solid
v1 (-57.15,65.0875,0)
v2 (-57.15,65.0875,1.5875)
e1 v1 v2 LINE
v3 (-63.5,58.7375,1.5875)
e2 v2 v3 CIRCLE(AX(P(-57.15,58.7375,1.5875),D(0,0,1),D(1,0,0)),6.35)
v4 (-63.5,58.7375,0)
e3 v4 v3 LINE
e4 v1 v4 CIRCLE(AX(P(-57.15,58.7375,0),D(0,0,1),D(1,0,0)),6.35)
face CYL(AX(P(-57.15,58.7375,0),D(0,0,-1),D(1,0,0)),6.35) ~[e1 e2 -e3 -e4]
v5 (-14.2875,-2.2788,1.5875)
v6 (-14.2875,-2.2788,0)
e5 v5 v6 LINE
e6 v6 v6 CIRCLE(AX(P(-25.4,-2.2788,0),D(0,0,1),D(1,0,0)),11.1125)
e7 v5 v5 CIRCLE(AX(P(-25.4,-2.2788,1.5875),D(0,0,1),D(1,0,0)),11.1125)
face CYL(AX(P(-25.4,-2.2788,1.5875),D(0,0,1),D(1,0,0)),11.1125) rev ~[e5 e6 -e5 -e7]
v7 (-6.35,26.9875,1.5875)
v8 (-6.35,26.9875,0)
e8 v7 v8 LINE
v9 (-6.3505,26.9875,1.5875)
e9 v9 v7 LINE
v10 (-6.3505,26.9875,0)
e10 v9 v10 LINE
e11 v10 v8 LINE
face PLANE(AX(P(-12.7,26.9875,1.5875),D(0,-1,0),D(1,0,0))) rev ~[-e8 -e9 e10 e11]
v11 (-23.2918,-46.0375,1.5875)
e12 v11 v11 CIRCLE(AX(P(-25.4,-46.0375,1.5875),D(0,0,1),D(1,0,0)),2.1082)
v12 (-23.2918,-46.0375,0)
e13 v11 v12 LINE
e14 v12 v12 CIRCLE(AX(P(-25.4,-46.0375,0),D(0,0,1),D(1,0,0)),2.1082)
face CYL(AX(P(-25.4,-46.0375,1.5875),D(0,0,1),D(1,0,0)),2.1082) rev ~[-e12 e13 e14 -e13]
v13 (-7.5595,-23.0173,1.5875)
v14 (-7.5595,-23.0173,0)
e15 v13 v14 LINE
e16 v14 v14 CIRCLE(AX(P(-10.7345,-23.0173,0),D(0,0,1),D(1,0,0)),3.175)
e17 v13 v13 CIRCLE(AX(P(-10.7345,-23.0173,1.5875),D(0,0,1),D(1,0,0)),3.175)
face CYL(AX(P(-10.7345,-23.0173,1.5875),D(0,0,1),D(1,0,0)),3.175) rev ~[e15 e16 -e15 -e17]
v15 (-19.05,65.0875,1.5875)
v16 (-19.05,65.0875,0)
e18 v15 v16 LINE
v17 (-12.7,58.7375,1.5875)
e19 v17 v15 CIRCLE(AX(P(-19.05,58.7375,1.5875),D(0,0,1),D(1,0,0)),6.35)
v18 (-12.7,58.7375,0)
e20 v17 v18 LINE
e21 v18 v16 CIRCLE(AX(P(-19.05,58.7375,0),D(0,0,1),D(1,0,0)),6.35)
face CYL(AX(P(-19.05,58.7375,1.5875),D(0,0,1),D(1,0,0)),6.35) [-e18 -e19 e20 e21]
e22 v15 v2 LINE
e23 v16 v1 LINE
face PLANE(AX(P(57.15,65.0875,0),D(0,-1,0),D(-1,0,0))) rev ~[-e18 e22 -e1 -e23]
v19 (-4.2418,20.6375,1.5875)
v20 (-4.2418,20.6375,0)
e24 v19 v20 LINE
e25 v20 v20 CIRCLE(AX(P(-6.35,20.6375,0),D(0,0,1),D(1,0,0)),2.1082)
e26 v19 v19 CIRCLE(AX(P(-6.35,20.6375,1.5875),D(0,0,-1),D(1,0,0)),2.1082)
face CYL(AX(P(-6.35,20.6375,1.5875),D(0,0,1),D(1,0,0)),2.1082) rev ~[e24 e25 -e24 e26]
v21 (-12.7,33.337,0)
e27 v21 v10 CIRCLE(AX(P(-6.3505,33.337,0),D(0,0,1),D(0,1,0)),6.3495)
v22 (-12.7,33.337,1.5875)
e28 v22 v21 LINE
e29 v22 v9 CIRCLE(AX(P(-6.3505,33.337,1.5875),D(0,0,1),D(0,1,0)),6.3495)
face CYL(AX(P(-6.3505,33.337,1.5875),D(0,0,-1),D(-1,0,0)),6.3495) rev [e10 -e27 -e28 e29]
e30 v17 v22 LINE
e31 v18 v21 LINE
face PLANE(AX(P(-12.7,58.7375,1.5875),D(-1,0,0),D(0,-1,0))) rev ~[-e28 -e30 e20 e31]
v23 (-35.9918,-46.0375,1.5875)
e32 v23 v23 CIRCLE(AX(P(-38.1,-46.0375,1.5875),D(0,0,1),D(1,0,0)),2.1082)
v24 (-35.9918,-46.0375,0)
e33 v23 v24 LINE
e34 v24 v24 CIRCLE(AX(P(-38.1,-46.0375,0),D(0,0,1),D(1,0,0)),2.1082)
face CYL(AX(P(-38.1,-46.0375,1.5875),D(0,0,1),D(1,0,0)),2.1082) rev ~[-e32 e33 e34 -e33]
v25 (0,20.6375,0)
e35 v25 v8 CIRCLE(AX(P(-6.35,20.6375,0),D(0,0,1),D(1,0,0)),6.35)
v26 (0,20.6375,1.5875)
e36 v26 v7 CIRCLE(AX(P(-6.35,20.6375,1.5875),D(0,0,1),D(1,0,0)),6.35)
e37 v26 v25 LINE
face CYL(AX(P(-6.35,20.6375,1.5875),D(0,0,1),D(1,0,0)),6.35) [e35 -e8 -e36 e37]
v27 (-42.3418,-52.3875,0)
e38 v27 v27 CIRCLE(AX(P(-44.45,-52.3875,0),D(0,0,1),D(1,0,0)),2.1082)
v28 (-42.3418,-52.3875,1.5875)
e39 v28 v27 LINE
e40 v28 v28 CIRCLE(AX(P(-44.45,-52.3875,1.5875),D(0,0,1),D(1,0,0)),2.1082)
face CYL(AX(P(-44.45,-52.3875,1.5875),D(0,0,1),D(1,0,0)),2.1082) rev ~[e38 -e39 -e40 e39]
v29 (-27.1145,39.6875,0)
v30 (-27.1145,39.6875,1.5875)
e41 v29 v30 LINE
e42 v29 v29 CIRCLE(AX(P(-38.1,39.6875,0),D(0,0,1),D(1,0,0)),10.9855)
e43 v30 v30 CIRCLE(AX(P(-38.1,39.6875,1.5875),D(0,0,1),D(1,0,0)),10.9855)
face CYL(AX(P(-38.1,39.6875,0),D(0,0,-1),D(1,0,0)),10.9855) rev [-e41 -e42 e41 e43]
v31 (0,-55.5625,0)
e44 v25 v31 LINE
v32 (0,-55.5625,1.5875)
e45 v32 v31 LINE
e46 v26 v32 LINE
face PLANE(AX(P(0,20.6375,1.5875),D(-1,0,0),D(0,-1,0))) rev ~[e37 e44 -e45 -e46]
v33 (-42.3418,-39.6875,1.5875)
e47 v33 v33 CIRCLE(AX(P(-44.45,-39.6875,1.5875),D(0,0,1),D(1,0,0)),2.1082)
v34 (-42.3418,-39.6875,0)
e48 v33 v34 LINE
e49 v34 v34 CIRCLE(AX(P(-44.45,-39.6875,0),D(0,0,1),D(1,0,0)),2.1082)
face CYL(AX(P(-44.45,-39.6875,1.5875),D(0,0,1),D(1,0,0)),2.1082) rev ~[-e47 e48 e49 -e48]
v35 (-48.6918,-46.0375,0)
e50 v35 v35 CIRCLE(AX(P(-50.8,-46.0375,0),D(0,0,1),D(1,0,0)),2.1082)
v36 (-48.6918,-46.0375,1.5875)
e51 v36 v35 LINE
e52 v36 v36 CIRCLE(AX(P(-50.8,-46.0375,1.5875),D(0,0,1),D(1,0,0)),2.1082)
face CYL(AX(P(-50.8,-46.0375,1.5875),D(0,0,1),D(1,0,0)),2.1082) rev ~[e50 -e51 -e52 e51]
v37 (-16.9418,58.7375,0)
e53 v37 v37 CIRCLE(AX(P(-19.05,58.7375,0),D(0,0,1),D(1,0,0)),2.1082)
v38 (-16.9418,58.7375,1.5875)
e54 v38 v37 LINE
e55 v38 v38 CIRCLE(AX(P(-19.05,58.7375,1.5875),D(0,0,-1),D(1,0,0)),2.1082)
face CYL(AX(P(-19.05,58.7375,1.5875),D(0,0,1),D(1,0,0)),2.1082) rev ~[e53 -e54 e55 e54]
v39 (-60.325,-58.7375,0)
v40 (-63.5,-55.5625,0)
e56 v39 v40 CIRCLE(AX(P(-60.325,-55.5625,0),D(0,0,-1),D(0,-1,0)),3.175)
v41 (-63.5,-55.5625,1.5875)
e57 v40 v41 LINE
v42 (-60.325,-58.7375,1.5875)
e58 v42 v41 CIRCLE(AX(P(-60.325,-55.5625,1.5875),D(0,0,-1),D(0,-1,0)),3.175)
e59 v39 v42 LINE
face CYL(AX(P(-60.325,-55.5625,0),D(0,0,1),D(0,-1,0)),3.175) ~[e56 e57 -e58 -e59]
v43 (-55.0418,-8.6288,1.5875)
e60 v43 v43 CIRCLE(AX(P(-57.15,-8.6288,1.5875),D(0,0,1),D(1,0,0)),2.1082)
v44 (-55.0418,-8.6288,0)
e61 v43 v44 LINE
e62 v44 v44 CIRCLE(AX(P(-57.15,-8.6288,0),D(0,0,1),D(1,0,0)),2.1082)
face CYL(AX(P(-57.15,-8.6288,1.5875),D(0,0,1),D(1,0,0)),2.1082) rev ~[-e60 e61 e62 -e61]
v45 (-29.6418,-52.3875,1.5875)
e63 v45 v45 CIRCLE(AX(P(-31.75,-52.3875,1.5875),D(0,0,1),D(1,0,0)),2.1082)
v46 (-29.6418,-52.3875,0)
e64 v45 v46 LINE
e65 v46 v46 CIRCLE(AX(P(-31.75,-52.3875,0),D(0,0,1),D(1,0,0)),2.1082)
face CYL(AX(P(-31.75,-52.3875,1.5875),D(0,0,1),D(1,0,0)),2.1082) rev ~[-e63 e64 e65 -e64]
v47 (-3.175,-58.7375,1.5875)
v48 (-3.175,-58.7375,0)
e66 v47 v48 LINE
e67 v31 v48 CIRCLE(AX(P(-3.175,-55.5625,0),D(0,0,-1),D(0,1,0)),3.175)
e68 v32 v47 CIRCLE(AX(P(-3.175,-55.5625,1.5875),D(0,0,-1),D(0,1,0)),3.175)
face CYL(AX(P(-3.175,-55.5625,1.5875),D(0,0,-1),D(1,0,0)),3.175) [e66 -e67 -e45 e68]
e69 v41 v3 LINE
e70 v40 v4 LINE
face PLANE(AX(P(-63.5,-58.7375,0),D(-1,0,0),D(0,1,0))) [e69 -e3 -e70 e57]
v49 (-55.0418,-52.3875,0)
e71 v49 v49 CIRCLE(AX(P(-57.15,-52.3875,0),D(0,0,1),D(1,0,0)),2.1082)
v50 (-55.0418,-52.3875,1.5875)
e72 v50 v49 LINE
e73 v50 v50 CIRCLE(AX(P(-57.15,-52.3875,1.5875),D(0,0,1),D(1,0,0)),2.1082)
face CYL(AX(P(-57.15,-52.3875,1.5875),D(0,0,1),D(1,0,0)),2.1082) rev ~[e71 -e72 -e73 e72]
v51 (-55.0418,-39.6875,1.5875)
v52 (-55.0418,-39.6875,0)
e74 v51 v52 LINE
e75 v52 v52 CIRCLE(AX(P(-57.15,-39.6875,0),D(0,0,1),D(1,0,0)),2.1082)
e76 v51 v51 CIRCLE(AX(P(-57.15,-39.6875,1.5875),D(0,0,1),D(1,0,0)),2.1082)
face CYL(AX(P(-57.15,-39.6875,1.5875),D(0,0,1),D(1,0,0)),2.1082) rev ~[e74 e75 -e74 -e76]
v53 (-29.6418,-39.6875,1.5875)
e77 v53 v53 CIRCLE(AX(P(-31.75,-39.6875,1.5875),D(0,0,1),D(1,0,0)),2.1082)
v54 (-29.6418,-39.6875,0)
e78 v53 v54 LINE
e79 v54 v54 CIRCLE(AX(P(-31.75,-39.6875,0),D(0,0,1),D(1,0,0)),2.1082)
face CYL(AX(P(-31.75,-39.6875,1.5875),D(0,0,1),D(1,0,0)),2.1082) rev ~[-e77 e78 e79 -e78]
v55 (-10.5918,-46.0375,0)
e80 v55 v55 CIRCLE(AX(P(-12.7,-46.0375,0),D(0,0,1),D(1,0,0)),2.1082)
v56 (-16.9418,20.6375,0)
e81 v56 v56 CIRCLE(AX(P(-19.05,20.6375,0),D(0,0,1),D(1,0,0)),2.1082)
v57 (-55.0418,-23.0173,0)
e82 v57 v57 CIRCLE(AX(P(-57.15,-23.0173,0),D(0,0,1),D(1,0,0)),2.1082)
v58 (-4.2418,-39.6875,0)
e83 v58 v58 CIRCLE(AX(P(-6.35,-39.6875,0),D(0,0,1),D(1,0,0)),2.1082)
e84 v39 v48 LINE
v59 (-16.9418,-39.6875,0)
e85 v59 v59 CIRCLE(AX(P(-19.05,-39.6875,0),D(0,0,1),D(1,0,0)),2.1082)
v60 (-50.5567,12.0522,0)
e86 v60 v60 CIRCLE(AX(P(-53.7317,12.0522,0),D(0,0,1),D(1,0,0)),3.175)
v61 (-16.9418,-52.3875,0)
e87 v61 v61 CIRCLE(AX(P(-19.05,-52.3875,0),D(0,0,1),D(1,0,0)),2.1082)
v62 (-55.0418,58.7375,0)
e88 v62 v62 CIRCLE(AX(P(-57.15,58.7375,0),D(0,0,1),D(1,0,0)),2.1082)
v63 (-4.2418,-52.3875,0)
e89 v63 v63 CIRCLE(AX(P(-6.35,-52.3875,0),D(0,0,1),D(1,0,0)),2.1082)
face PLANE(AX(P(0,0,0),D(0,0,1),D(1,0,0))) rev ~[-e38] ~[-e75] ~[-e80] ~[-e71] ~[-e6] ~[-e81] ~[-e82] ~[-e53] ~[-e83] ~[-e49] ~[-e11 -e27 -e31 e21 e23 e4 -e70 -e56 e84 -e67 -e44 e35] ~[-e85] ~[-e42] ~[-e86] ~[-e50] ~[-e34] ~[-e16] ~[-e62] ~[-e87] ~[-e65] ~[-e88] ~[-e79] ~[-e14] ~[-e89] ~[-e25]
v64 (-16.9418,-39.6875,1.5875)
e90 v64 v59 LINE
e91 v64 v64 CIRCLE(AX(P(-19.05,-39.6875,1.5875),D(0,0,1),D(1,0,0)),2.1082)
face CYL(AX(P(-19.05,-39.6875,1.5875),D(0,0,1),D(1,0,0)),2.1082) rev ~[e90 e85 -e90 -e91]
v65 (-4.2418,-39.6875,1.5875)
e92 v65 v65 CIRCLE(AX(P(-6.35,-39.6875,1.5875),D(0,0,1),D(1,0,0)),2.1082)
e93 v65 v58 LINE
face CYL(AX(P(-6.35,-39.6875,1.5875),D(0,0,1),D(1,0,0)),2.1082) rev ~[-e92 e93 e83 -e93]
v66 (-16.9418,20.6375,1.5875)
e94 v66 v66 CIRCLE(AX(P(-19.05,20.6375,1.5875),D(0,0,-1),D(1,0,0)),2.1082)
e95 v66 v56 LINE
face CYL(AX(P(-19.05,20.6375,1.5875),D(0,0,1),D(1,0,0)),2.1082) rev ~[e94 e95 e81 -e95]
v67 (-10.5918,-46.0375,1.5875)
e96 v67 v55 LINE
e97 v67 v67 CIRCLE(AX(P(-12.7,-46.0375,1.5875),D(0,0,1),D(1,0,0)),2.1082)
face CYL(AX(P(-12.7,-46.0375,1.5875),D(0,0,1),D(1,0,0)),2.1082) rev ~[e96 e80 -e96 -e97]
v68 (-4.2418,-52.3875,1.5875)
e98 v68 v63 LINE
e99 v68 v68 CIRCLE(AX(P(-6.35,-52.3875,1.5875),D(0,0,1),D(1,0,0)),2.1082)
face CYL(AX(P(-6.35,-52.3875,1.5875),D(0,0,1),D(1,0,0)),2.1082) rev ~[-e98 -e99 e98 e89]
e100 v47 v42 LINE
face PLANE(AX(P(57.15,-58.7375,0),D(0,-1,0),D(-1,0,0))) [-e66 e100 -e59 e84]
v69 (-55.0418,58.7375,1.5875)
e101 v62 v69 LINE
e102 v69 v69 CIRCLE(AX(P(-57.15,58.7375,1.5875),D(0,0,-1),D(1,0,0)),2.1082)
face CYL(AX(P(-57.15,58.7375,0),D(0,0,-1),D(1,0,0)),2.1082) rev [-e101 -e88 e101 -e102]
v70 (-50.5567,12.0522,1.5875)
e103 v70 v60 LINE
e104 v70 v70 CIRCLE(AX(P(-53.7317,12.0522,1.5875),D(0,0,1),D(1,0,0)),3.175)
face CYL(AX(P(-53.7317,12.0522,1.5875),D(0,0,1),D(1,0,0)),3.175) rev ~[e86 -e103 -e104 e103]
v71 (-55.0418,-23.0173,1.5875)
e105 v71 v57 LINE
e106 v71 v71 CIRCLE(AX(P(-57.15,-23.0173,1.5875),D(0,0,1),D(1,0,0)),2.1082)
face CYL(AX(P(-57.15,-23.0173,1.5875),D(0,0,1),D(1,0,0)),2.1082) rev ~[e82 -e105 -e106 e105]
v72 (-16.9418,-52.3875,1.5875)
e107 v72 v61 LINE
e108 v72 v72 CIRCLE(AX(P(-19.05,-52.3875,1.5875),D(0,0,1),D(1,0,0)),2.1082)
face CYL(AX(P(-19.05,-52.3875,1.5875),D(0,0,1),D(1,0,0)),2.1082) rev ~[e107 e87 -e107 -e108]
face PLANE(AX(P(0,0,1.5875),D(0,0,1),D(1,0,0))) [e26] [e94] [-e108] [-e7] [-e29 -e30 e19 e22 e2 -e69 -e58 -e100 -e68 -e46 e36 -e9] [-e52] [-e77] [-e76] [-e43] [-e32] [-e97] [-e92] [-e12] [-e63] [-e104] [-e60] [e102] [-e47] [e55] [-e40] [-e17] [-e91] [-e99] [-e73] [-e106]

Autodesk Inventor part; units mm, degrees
ref_plane "YZ Plane" through (0, 0, 0) normal (1, 0, 0) x (0, 1, 0)
ref_plane "XZ Plane" through (0, 0, 0) normal (0, 1, 0) x (-1, 0, 0)
ref_plane "XY Plane" through (0, 0, 0) normal (0, 0, 1) x (1, 0, 0)
sketch "Sketch1" plane through (0, 0, 0) normal (0, 0, 1) x (1, 0, 0)
  line L0 (57.15, -58.7375) -> (-57.15, -58.7375)
  line L1 (-57.15, -58.7375) -> (-57.15, 58.7375)
  line L2 (-57.15, 58.7375) -> (57.15, 58.7375)
  line L3 (57.15, 58.7375) -> (57.15, -58.7375)
  line L4 (57.15, -58.7375) -> (-57.15, 58.7375) construction
  line L5 (-57.15, -58.7375) -> (57.15, 58.7375) construction
  line L6 (-57.15, 58.7375) -> (-19.05, 58.7375)
  line L7 (-19.05, 58.7375) -> (-19.05, 20.6375)
  line L8 (-19.05, 20.6375) -> (-57.15, 20.6375)
  line L9 (-57.15, 20.6375) -> (-57.15, 58.7375)
  circle A0 centre (-38.1, 39.6875) radius 19.05
  circle A1 centre (-57.15, 58.7375) radius 6.35
  circle A2 centre (57.15, 58.7375) radius 6.35
  line L10 (-57.15, -58.7375) -> (-63.5, -58.7375)
  line L11 (-63.5, -58.7375) -> (-63.5, 58.7375)
  line L12 (57.15, -58.7375) -> (63.5, -58.7375)
  line L13 (63.5, -58.7375) -> (63.5, 58.7375)
  line L14 (57.15, 65.0875) -> (-57.15, 65.0875)
  circle A3 centre (-38.1, 39.6875) radius 10.9855
  circle A4 centre (-57.15, 58.7375) radius 2.1082
  circle A5 centre (57.15, 58.7375) radius 2.1082
  point P0 (0, 0)
  dimension "d0" = 114.3
  dimension "d1" = 117.475
  dimension "d2" = 38.1
  dimension "d3" = 38.1
  dimension "d4" = 12.7
  dimension "d5" = 12.7
  dimension "d8" = 21.971
  dimension "d9" = 4.2164
  dimension "d10" = 4.2164
extrude "Extrusion1" add sketch "Sketch1" along normal blind 1.5875 contours L0 L1 L8 L7 L2 A2 L3 | L3 A2 L13 L12 | L10 L11 A1 L1 | A2 L2 A5 L3 | L3 A5 L2 A2 | L1 A0 L8 | L2 A1 L14 A2 | L1 A1 L2 A0 | A0 | A0 L7 L8 | A1 L2 A4 L1 | L7 A0 L2 | L1 A4 L2 A1
sketch "Sketch2" plane through (0, 0, 1.5875) normal (0, 0, 1) x (1, 0, 0)
  circle A0 centre (-38.1, 39.6875) radius 10.9855 projected
  line L0 (-38.1, 39.6875) -> (63.5, 39.6875)
  line L1 (63.5, -58.7375) -> (63.5, 58.7375) projected
  circle A1 centre (-38.1, 39.6875) radius 6.35
  circle A2 centre (-12.7, 39.6875) radius 19.05
  circle A3 centre (38.1, 39.6875) radius 31.75
  circle A4 centre (-12.7, 39.6875) radius 10.9855
  circle A5 centre (38.1, 39.6875) radius 10.9855
  line L2 (-63.5, 58.7375) -> (-63.5, -58.7375) projected
  line L3 (-38.1, 39.6875) -> (-12.7, 39.6875)
  line L4 (57.15, 65.0875) -> (-57.15, 65.0875) projected
  line L5 (-63.5, -58.7375) -> (63.5, -58.7375) projected
  line L6 (0, -58.7375) -> (0, 65.0875)
  circle A6 centre (0, -46.0375) radius 19.05
  circle A7 centre (0, -46.0375) radius 2.1082
  point P0 (0, 0)
  dimension "d13" = 12.7
  dimension "d14" = 38.1
  dimension "d15" = 63.5
  dimension "d16" = 21.971
  dimension "d17" = 21.971
  dimension "d21" = 38.1
  dimension "d22" = 12.7
  dimension "d23" = 4.2164
extrude "Extrusion2" cut sketch "Sketch2" against normal blind 1.5875 contours A4 L0 | L0 A4 | A5 L0 | L0 A5 | A7 L6 | L6 A7
sketch "Sketch10" plane through (0, 0, 1.5875) normal (0, 0, 1) x (1, 0, 0)
  circle A0 centre (0, -46.0375) radius 2.1082 projected
  circle A1 centre (0, -46.0375) radius 19.05
  line L0 (0, -46.0375) -> (-10.7345, -23.0173)
  circle A2 centre (-10.7345, -23.0173) radius 6.35
  line L1 (57.15, 65.0875) -> (-57.15, 65.0875) projected
  line L2 (-63.5, -58.7375) -> (63.5, -58.7375) projected
  line L3 (0, -58.7375) -> (0, 65.0875)
  circle A3 centre (-25.4, -2.2788) radius 19.05
  line L4 (-25.4, 65.0875) -> (-25.4, -58.7375)
  circle A4 centre (-38.1, 39.6875) radius 10.9855 projected
  circle A5 centre (-38.1, 39.6875) radius 19.05
  circle A6 centre (-53.7317, 12.0522) radius 12.7
  point P0 (0, 0)
  dimension "d121" = 38.1
  dimension "d122" = 25.4
  dimension "d123" = 25
  dimension "d124" = 38.1
  dimension "d125" = 25.4
  dimension "d126" = 38.1
  dimension "d127" = 25.4
sketch "Sketch11" plane through (0, 0, 1.5875) normal (0, 0, 1) x (1, 0, 0)
  circle A0 centre (-10.7345, -23.0173) radius 6.35 projected
  circle A1 centre (-25.4, -2.2788) radius 19.05 projected
  circle A2 centre (-53.7317, 12.0522) radius 12.7 projected
  circle A3 centre (-53.7317, 12.0522) radius 3.175
  circle A4 centre (-25.4, -2.2788) radius 3.9688
  circle A5 centre (-10.7345, -23.0173) radius 3.175
  point P0 (0, 0)
  dimension "d128" = 6.35
  dimension "d129" = 7.9375
  dimension "d130" = 6.35
extrude "Extrusion9" cut sketch "Sketch11" against normal blind 25.4 contours A3 | A4 | A5
sketch "Sketch12" plane through (0, 0, 1.5875) normal (0, 0, 1) x (1, 0, 0)
  circle A0 centre (57.15, -52.3875) radius 2.1082
  circle A1 centre (0, -46.0375) radius 2.1082 projected
  line L0 (-63.5, -58.7375) -> (63.5, -58.7375) projected
  line L1 (-63.5, -58.7375) -> (63.5, -58.7375) projected
  line L2 (63.5, -58.7375) -> (63.5, 58.7375) projected
  circle A2 centre (44.45, -52.3875) radius 2.1082
  circle A3 centre (31.75, -52.3875) radius 2.1082
  circle A4 centre (19.05, -52.3875) radius 2.1082
  circle A5 centre (6.35, -52.3875) radius 2.1082
  circle A6 centre (-6.35, -52.3875) radius 2.1082
  circle A7 centre (-19.05, -52.3875) radius 2.1082
  circle A8 centre (-31.75, -52.3875) radius 2.1082
  circle A9 centre (-44.45, -52.3875) radius 2.1082
  circle A10 centre (-57.15, -52.3875) radius 2.1082
  circle A11 centre (57.15, -39.6875) radius 2.1082
  circle A12 centre (44.45, -39.6875) radius 2.1082
  circle A13 centre (31.75, -39.6875) radius 2.1082
  circle A14 centre (19.05, -39.6875) radius 2.1082
  circle A15 centre (6.35, -39.6875) radius 2.1082
  circle A16 centre (-6.35, -39.6875) radius 2.1082
  circle A17 centre (-19.05, -39.6875) radius 2.1082
  circle A18 centre (-31.75, -39.6875) radius 2.1082
  circle A19 centre (-44.45, -39.6875) radius 2.1082
  circle A20 centre (-57.15, -39.6875) radius 2.1082
  point P0 (0, 0)
  dimension "d133" = 4.2164
  dimension "d134" = 6.35
  dimension "d135" = 57.15
  dimension "d138" = 12.7
  dimension "d141" = 12.7
extrude "Extrusion10" cut sketch "Sketch12" against normal blind 25.4
sketch "Sketch14" plane through (0, 0, 1.5875) normal (0, 0, 1) x (1, 0, 0)
  circle A0 centre (-25.4, -2.2788) radius 3.9687 projected
  circle A1 centre (-57.15, -8.6288) radius 2.1082
  line L0 (-63.5, 58.7375) -> (-63.5, -58.7375) projected
  line L1 (-63.5, -58.7375) -> (63.5, -58.7375) projected
  circle A2 centre (-57.15, 4.0712) radius 2.1082
  circle A3 centre (-44.45, -8.6288) radius 2.1082
  circle A4 centre (-44.45, 4.0712) radius 2.1082
  circle A5 centre (-31.75, -8.6288) radius 2.1082
  circle A6 centre (-31.75, 4.0712) radius 2.1082
  circle A7 centre (-19.05, -8.6288) radius 2.1082
  circle A8 centre (-19.05, 4.0712) radius 2.1082
  circle A9 centre (-6.35, -8.6288) radius 2.1082
  circle A10 centre (-6.35, 4.0712) radius 2.1082
  circle A11 centre (6.35, -8.6288) radius 2.1082
  circle A12 centre (6.35, 4.0712) radius 2.1082
  circle A13 centre (19.05, -8.6288) radius 2.1082
  circle A14 centre (19.05, 4.0712) radius 2.1082
  circle A15 centre (31.75, -8.6288) radius 2.1082
  circle A16 centre (31.75, 4.0712) radius 2.1082
  circle A17 centre (44.45, -8.6288) radius 2.1082
  circle A18 centre (44.45, 4.0712) radius 2.1082
  circle A19 centre (57.15, -8.6288) radius 2.1082
  circle A20 centre (57.15, 4.0712) radius 2.1082
  point P0 (0, 0)
  dimension "d159" = 4.2164
  dimension "d160" = 6.35
  dimension "d161" = 31.75
  dimension "d164" = 12.7
  dimension "d167" = 12.7
extrude "Extrusion12" cut sketch "Sketch14" against normal blind 25.4 contours A0 | A1 | A2 | A3 | A4 | A5 | A6 | A7 | A8
sketch "Sketch16" plane through (0, 0, 1.5875) normal (0, 0, 1) x (1, 0, 0)
  circle A0 centre (-25.4, -2.2788) radius 2.1082
  circle A1 centre (0, -46.0375) radius 2.1082
  line L0 (-63.5, -58.7375) -> (63.5, -58.7375) projected
  circle A2 centre (12.7, -46.0375) radius 2.1082
  circle A3 centre (-12.7, -2.2788) radius 2.1082
  circle A4 centre (25.4, -46.0375) radius 2.1082
  circle A5 centre (0, -2.2788) radius 2.1082
  point P0 (0, 0)
  dimension "d185" = 4.2164
  dimension "d186" = 4.2164
  dimension "d189" = 12.7
extrude "Extrusion14" cut sketch "Sketch16" against normal blind 25.4 contours A2 | A3 | A4 | A5
sketch "Sketch17" plane through (0, 0, 1.5875) normal (0, 0, 1) x (1, 0, 0)
  circle A0 centre (0, -46.0375) radius 2.1082
  circle A1 centre (-25.4, -2.2788) radius 2.1082
  line L0 (-63.5, 58.7375) -> (-63.5, -58.7375) projected
  circle A2 centre (0, -46.0375) radius 19.05 projected
  line L1 (-63.5, -58.7375) -> (63.5, -58.7375) projected
  circle A3 centre (-38.1, -2.2788) radius 2.1082
  circle A4 centre (-50.8, -2.2788) radius 2.1082
  circle A5 centre (-12.7, -2.2788) radius 2.1082
  circle A6 centre (-25.4, -2.2788) radius 2.1082
  circle A7 centre (-38.1, -2.2788) radius 2.1082
  circle A8 centre (0, -2.2788) radius 2.1082
  circle A9 centre (-12.7, -2.2788) radius 2.1082
  circle A10 centre (-25.4, -2.2788) radius 2.1082
  circle A11 centre (12.7, -2.2788) radius 2.1082
  circle A12 centre (0, -2.2788) radius 2.1082
  circle A13 centre (-12.7, -2.2788) radius 2.1082
  circle A14 centre (25.4, -2.2788) radius 2.1082
  circle A15 centre (12.7, -2.2788) radius 2.1082
  circle A16 centre (0, -2.2788) radius 2.1082
  circle A17 centre (38.1, -2.2788) radius 2.1082
  circle A18 centre (25.4, -2.2788) radius 2.1082
  circle A19 centre (12.7, -2.2788) radius 2.1082
  circle A20 centre (50.8, -2.2788) radius 2.1082
  circle A21 centre (38.1, -2.2788) radius 2.1082
  circle A22 centre (25.4, -2.2788) radius 2.1082
  circle A23 centre (12.7, -46.0375) radius 2.1082
  circle A24 centre (25.4, -46.0375) radius 2.1082
  circle A25 centre (38.1, -46.0375) radius 2.1082
  circle A26 centre (50.8, -46.0375) radius 2.1082
  circle A27 centre (-12.7, -46.0375) radius 2.1082
  circle A28 centre (0, -46.0375) radius 2.1082
  circle A29 centre (12.7, -46.0375) radius 2.1082
  circle A30 centre (25.4, -46.0375) radius 2.1082
  circle A31 centre (38.1, -46.0375) radius 2.1082
  circle A32 centre (-25.4, -46.0375) radius 2.1082
  circle A33 centre (-12.7, -46.0375) radius 2.1082
  circle A34 centre (0, -46.0375) radius 2.1082
  circle A35 centre (12.7, -46.0375) radius 2.1082
  circle A36 centre (25.4, -46.0375) radius 2.1082
  circle A37 centre (-38.1, -46.0375) radius 2.1082
  circle A38 centre (-25.4, -46.0375) radius 2.1082
  circle A39 centre (-12.7, -46.0375) radius 2.1082
  circle A40 centre (0, -46.0375) radius 2.1082
  circle A41 centre (12.7, -46.0375) radius 2.1082
  circle A42 centre (-50.8, -46.0375) radius 2.1082
  circle A43 centre (-38.1, -46.0375) radius 2.1082
  circle A44 centre (-25.4, -46.0375) radius 2.1082
  circle A45 centre (-12.7, -46.0375) radius 2.1082
  circle A46 centre (0, -46.0375) radius 2.1082
  point P0 (0, 0)
  dimension "d196" = 4.2164
  dimension "d197" = 4.2164
  dimension "d200" = 12.7
  dimension "d203" = 12.7
  dimension "d208" = 12.7
  dimension "d211" = 12.7
extrude "Extrusion15" cut sketch "Sketch17" against normal blind 25.4 contours A3 | A4 | A25 | A26 | A27 | A32 | A37 | A42
sketch "Sketch20" plane through (0, 0, 1.5875) normal (0, 0, 1) x (1, 0, 0)
  circle A0 centre (0, -2.2788) radius 2.1082 projected
  circle A1 centre (57.15, 33.3375) radius 2.1082 projected
  line L0 (57.15, 65.0875) -> (-57.15, 65.0875) projected
  line L1 (-63.5, -58.7375) -> (63.5, -58.7375) projected
  line L2 (6.35, -58.7375) -> (6.35, 65.0875)
  line L3 (63.5, -58.7375) -> (63.5, 58.7375) projected
  line L4 (0, -2.2788) -> (61.9125, -2.2788) construction
  circle A2 centre (31.75, -2.2788) radius 2.1082
  line L5 (31.75, -2.2788) -> (0, -2.2788)
  line L6 (31.75, -2.2788) -> (15.875, 25.2175)
  line L7 (0, -2.2788) -> (15.875, 25.2175)
  line L8 (15.875, 18.8675) -> (26.2507, 0.8962)
  line L9 (26.2507, 0.8962) -> (5.4993, 0.8962)
  line L10 (5.4993, 0.8962) -> (15.875, 18.8675)
  line L11 (5.4993, -5.4538) -> (26.2507, -5.4538)
  line L12 (26.2507, -5.4538) -> (15.875, -23.4251)
  line L13 (15.875, -23.4251) -> (5.4993, -5.4538)
  line L14 (21.3743, -26.6001) -> (31.75, -8.6288)
  line L15 (31.75, -8.6288) -> (42.1257, -26.6001)
  line L16 (42.1257, -26.6001) -> (21.3743, -26.6001)
  line L17 (47.625, -23.4251) -> (37.2493, -5.4538)
  line L18 (37.2493, -5.4538) -> (58.0007, -5.4538)
  line L19 (58.0007, -5.4538) -> (47.625, -23.4251)
  line L20 (58.0007, 0.8962) -> (37.2493, 0.8962)
  line L21 (37.2493, 0.8962) -> (47.625, 18.8675)
  line L22 (47.625, 18.8675) -> (58.0007, 0.8962)
  line L23 (42.1257, 22.0425) -> (31.75, 4.0712)
  line L24 (31.75, 4.0712) -> (21.3743, 22.0425)
  line L25 (21.3743, 22.0425) -> (42.1257, 22.0425)
  point P0 (0, 0)
  dimension "d240" = 6.35
  dimension "d242" = 4.2164
  dimension "d243" = 31.75
  dimension "d244" = 31.75
  dimension "d246" = 3.175
  dimension "d249" = 360
  dimension "d260" = 31.75
extrude "Extrusion17" cut sketch "Sketch20" against normal blind 25.4 contours L11 L12 L13 L2 | L2 L13 L11 | L9 L10 L2 | L2 L10 L8 L9 | L5 L6 A2 | A2 L6 L5 | L14 L15 L16 | L17 L18 L19 | L20 L21 L22 | L23 L24 L25
fillet "Fillet2" radius 3.175 3 edges at (58.0007, -5.4538, 0.7937) (37.2493, -5.4538, 0.7937) (47.625, -23.4251, 0.7937)
pattern_circular "Circular Pattern2" count 6 over 360 about axis through (31.75, -2.2788, 1.5875) along (0, 0, -1) of "Fillet2"
sketch "Sketch21" plane through (0, 0, 1.5875) normal (0, 0, 1) x (1, 0, 0)
  circle A0 centre (31.75, -2.2788) radius 2.1082 projected
  circle A1 centre (57.15, 33.3375) radius 2.1082 projected
  circle A2 centre (6.35, -2.2788) radius 2.1082
  circle A3 centre (57.15, -2.2788) radius 2.1082
  circle A4 centre (0, -2.2788) radius 2.1082 projected
  point P0 (0, 0)
  dimension "d257" = 4.2164
  dimension "d258" = 4.2164
  dimension "d259" = 6.35
extrude "Extrusion18" cut sketch "Sketch21" against normal blind 25.4 contours A2 | A3
sketch "Sketch22" plane through (0, 0, 1.5875) normal (0, 0, 1) x (1, 0, 0)
  circle A0 centre (-38.1, 39.6875) radius 10.9855 projected
  line L0 (-57.15, 20.6375) -> (-19.05, 20.6375)
  line L1 (-19.05, 20.6375) -> (-19.05, 58.7375)
  line L2 (-19.05, 58.7375) -> (-57.15, 58.7375)
  line L3 (-57.15, 58.7375) -> (-57.15, 20.6375)
  line L4 (-57.15, 20.6375) -> (-19.05, 58.7375) construction
  line L5 (-19.05, 20.6375) -> (-57.15, 58.7375) construction
  circle A1 centre (-19.05, 58.7375) radius 2.1082
  circle A2 centre (-19.05, 20.6375) radius 2.1082
  circle A3 centre (-53.7317, 12.0522) radius 3.175 projected
  circle A4 centre (-6.35, -39.6875) radius 2.1082 projected
  circle A5 centre (-57.15, 33.3375) radius 2.1082 projected
  circle A6 centre (-57.15, -23.0173) radius 2.1082
  circle A7 centre (-6.35, 20.6375) radius 2.1082
  circle A8 centre (-12.7, 39.6875) radius 10.9855 projected
  circle A9 centre (-12.7, 39.6875) radius 19.05
  circle A10 centre (-38.1, 39.6875) radius 19.05
  circle A11 centre (-10.7345, -23.0173) radius 3.175 projected
  circle A12 centre (-19.05, 4.0712) radius 2.1082 projected
  line L6 (-31.75, 20.6375) -> (6.35, 20.6375)
  line L7 (6.35, 20.6375) -> (6.35, 58.7375)
  line L8 (6.35, 58.7375) -> (-31.75, 58.7375)
  line L9 (-31.75, 58.7375) -> (-31.75, 20.6375)
  line L10 (-31.75, 20.6375) -> (6.35, 58.7375) construction
  line L11 (6.35, 20.6375) -> (-31.75, 58.7375) construction
  circle A13 centre (-12.7, 39.6875) radius 12.4333
  point P0 (0, 0)
  dimension "d264" = 38.1
  dimension "d265" = 4.2164
  dimension "d266" = 4.2164
  dimension "d267" = 4.2164
  dimension "d268" = 4.2164
  dimension "d269" = 38.1
  dimension "d270" = 38.1
  dimension "d271" = 0
  dimension "d274" = 38.1
  dimension "d275" = 38.1
  dimension "d276" = 24.8666
  dimension "d277" = 38.1
extrude "Extrusion19" cut sketch "Sketch22" against normal blind 25.4 contours A9 L1 A1 | A1 L2 L1 A9 | A9 L1 L0 A2 | A2 L1 A9 | A1 L8 L2 | L1 A9 A1 | L1 L8 A1 A9 | A2 A9 L1 | L0 L6 A2 | A9 A2 L6 L1 | A9 A7 L6 | A7 A9 | L6 A7 | A6 picked at (-6.6485, 20.9034)
fillet "Fillet3" radius 3.175 2 edges at (63.5, -58.7375, 0.7937) (-63.5, -58.7375, 0.7937)
sketch "Sketch23" plane through (0, 0, 1.5875) normal (0, 0, 1) x (1, 0, 0)
  circle A0 centre (-12.7, 39.6875) radius 10.9855 projected
  circle A1 centre (0, -46.0375) radius 2.1082 projected
  circle A2 centre (0, -2.2788) radius 2.1082 projected
  circle A3 centre (-12.7, -2.2788) radius 2.1082 projected
  circle A4 centre (-19.05, -8.6288) radius 2.1082 projected
  circle A5 centre (-31.75, -8.6288) radius 2.1082 projected
  circle A6 centre (-44.45, -8.6288) radius 2.1082 projected
  circle A7 centre (-57.15, -8.6288) radius 2.1082 projected
  circle A8 centre (-57.15, 4.0712) radius 2.1082 projected
  circle A9 centre (-50.8, -2.2788) radius 2.1082 projected
  circle A10 centre (-44.45, 4.0712) radius 2.1082 projected
  circle A11 centre (-38.1, -2.2788) radius 2.1082 projected
  circle A12 centre (-25.4, -2.2788) radius 3.9687 projected
  circle A13 centre (-31.75, 4.0712) radius 2.1082 projected
  circle A14 centre (-19.05, 4.0712) radius 2.1082 projected
  point P0 (0, 0)
extrude "Extrusion20" add sketch "Sketch23" against normal blind 1.5875 contours A0 | A1 | A2 | A3 | A4 | A5 | A6 | A8 | A9 | A10 | A11 | A12 | A13 | A14
sketch "Sketch24" plane through (0, 0, 1.5875) normal (0, 0, 1) x (1, 0, 0)
  circle A0 centre (-19.05, 58.7375) radius 2.1082 projected
  circle A1 centre (-19.05, 20.6375) radius 2.1082 projected
  circle A2 centre (-6.35, 20.6375) radius 2.1082 projected
  circle A3 centre (-19.05, 58.7375) radius 6.35
  line L0 (57.15, 65.0875) -> (-57.15, 65.0875) projected
  circle A4 centre (-6.35, 20.6375) radius 6.35
  circle A5 centre (-19.05, 20.6375) radius 6.35
  line L1 (-12.7, 58.7375) -> (-12.7, 20.6375)
  line L2 (-19.05, 26.9875) -> (-6.35, 26.9875)
  line L3 (0, 20.6375) -> (0, -60.8265)
  line L4 (-60.325, -58.7375) -> (60.325, -58.7375) projected
  arc A6 (60.325, -58.7375) -> (63.5, -55.5625) centre (60.325, -55.5625) ccw projected
  line L5 (63.5, -55.5625) -> (63.5, 58.7375) projected
  line L6 (57.15, 65.0875) -> (-57.15, 65.0875) projected
  arc A7 (63.5, 58.7375) -> (57.15, 65.0875) centre (57.15, 58.7375) ccw projected
  point P0 (0, 0)
  point P1 (-19.05, 65.0875)
  point P2 (-12.7, 26.9875)
  point P3 (0, -58.7375)
  dimension "d283" = 12.7
  dimension "d284" = 12.7
extrude "Extrusion21" cut sketch "Sketch24" against normal blind 1.5875 contours A3 L0 A7 L5 A6 L4 L3 A4 L2 L1
fillet "Fillet4" radius 6.35 1 edges at (-12.7, 26.9875, 0.7937)
sketch "Sketch25" plane through (0, 0, 1.5875) normal (0, 0, 1) x (1, 0, 0)
  circle A0 centre (-53.7317, 12.0522) radius 3.175 projected
  circle A1 centre (-10.7345, -23.0173) radius 3.175 projected
  circle A2 centre (-25.4, -2.2788) radius 19.05 projected
  circle A3 centre (-25.4, -2.2788) radius 11.1125
  point P0 (0, 0)
  dimension "d288" = 22.225
extrude "Extrusion22" cut sketch "Sketch25" against normal blind 1.5875 contours A3
fillet "Fillet5" radius 3.175 1 edges at (0, -58.7375, 0.7937)
properties part number "POM 1" material "Acetal Resin, Black"
